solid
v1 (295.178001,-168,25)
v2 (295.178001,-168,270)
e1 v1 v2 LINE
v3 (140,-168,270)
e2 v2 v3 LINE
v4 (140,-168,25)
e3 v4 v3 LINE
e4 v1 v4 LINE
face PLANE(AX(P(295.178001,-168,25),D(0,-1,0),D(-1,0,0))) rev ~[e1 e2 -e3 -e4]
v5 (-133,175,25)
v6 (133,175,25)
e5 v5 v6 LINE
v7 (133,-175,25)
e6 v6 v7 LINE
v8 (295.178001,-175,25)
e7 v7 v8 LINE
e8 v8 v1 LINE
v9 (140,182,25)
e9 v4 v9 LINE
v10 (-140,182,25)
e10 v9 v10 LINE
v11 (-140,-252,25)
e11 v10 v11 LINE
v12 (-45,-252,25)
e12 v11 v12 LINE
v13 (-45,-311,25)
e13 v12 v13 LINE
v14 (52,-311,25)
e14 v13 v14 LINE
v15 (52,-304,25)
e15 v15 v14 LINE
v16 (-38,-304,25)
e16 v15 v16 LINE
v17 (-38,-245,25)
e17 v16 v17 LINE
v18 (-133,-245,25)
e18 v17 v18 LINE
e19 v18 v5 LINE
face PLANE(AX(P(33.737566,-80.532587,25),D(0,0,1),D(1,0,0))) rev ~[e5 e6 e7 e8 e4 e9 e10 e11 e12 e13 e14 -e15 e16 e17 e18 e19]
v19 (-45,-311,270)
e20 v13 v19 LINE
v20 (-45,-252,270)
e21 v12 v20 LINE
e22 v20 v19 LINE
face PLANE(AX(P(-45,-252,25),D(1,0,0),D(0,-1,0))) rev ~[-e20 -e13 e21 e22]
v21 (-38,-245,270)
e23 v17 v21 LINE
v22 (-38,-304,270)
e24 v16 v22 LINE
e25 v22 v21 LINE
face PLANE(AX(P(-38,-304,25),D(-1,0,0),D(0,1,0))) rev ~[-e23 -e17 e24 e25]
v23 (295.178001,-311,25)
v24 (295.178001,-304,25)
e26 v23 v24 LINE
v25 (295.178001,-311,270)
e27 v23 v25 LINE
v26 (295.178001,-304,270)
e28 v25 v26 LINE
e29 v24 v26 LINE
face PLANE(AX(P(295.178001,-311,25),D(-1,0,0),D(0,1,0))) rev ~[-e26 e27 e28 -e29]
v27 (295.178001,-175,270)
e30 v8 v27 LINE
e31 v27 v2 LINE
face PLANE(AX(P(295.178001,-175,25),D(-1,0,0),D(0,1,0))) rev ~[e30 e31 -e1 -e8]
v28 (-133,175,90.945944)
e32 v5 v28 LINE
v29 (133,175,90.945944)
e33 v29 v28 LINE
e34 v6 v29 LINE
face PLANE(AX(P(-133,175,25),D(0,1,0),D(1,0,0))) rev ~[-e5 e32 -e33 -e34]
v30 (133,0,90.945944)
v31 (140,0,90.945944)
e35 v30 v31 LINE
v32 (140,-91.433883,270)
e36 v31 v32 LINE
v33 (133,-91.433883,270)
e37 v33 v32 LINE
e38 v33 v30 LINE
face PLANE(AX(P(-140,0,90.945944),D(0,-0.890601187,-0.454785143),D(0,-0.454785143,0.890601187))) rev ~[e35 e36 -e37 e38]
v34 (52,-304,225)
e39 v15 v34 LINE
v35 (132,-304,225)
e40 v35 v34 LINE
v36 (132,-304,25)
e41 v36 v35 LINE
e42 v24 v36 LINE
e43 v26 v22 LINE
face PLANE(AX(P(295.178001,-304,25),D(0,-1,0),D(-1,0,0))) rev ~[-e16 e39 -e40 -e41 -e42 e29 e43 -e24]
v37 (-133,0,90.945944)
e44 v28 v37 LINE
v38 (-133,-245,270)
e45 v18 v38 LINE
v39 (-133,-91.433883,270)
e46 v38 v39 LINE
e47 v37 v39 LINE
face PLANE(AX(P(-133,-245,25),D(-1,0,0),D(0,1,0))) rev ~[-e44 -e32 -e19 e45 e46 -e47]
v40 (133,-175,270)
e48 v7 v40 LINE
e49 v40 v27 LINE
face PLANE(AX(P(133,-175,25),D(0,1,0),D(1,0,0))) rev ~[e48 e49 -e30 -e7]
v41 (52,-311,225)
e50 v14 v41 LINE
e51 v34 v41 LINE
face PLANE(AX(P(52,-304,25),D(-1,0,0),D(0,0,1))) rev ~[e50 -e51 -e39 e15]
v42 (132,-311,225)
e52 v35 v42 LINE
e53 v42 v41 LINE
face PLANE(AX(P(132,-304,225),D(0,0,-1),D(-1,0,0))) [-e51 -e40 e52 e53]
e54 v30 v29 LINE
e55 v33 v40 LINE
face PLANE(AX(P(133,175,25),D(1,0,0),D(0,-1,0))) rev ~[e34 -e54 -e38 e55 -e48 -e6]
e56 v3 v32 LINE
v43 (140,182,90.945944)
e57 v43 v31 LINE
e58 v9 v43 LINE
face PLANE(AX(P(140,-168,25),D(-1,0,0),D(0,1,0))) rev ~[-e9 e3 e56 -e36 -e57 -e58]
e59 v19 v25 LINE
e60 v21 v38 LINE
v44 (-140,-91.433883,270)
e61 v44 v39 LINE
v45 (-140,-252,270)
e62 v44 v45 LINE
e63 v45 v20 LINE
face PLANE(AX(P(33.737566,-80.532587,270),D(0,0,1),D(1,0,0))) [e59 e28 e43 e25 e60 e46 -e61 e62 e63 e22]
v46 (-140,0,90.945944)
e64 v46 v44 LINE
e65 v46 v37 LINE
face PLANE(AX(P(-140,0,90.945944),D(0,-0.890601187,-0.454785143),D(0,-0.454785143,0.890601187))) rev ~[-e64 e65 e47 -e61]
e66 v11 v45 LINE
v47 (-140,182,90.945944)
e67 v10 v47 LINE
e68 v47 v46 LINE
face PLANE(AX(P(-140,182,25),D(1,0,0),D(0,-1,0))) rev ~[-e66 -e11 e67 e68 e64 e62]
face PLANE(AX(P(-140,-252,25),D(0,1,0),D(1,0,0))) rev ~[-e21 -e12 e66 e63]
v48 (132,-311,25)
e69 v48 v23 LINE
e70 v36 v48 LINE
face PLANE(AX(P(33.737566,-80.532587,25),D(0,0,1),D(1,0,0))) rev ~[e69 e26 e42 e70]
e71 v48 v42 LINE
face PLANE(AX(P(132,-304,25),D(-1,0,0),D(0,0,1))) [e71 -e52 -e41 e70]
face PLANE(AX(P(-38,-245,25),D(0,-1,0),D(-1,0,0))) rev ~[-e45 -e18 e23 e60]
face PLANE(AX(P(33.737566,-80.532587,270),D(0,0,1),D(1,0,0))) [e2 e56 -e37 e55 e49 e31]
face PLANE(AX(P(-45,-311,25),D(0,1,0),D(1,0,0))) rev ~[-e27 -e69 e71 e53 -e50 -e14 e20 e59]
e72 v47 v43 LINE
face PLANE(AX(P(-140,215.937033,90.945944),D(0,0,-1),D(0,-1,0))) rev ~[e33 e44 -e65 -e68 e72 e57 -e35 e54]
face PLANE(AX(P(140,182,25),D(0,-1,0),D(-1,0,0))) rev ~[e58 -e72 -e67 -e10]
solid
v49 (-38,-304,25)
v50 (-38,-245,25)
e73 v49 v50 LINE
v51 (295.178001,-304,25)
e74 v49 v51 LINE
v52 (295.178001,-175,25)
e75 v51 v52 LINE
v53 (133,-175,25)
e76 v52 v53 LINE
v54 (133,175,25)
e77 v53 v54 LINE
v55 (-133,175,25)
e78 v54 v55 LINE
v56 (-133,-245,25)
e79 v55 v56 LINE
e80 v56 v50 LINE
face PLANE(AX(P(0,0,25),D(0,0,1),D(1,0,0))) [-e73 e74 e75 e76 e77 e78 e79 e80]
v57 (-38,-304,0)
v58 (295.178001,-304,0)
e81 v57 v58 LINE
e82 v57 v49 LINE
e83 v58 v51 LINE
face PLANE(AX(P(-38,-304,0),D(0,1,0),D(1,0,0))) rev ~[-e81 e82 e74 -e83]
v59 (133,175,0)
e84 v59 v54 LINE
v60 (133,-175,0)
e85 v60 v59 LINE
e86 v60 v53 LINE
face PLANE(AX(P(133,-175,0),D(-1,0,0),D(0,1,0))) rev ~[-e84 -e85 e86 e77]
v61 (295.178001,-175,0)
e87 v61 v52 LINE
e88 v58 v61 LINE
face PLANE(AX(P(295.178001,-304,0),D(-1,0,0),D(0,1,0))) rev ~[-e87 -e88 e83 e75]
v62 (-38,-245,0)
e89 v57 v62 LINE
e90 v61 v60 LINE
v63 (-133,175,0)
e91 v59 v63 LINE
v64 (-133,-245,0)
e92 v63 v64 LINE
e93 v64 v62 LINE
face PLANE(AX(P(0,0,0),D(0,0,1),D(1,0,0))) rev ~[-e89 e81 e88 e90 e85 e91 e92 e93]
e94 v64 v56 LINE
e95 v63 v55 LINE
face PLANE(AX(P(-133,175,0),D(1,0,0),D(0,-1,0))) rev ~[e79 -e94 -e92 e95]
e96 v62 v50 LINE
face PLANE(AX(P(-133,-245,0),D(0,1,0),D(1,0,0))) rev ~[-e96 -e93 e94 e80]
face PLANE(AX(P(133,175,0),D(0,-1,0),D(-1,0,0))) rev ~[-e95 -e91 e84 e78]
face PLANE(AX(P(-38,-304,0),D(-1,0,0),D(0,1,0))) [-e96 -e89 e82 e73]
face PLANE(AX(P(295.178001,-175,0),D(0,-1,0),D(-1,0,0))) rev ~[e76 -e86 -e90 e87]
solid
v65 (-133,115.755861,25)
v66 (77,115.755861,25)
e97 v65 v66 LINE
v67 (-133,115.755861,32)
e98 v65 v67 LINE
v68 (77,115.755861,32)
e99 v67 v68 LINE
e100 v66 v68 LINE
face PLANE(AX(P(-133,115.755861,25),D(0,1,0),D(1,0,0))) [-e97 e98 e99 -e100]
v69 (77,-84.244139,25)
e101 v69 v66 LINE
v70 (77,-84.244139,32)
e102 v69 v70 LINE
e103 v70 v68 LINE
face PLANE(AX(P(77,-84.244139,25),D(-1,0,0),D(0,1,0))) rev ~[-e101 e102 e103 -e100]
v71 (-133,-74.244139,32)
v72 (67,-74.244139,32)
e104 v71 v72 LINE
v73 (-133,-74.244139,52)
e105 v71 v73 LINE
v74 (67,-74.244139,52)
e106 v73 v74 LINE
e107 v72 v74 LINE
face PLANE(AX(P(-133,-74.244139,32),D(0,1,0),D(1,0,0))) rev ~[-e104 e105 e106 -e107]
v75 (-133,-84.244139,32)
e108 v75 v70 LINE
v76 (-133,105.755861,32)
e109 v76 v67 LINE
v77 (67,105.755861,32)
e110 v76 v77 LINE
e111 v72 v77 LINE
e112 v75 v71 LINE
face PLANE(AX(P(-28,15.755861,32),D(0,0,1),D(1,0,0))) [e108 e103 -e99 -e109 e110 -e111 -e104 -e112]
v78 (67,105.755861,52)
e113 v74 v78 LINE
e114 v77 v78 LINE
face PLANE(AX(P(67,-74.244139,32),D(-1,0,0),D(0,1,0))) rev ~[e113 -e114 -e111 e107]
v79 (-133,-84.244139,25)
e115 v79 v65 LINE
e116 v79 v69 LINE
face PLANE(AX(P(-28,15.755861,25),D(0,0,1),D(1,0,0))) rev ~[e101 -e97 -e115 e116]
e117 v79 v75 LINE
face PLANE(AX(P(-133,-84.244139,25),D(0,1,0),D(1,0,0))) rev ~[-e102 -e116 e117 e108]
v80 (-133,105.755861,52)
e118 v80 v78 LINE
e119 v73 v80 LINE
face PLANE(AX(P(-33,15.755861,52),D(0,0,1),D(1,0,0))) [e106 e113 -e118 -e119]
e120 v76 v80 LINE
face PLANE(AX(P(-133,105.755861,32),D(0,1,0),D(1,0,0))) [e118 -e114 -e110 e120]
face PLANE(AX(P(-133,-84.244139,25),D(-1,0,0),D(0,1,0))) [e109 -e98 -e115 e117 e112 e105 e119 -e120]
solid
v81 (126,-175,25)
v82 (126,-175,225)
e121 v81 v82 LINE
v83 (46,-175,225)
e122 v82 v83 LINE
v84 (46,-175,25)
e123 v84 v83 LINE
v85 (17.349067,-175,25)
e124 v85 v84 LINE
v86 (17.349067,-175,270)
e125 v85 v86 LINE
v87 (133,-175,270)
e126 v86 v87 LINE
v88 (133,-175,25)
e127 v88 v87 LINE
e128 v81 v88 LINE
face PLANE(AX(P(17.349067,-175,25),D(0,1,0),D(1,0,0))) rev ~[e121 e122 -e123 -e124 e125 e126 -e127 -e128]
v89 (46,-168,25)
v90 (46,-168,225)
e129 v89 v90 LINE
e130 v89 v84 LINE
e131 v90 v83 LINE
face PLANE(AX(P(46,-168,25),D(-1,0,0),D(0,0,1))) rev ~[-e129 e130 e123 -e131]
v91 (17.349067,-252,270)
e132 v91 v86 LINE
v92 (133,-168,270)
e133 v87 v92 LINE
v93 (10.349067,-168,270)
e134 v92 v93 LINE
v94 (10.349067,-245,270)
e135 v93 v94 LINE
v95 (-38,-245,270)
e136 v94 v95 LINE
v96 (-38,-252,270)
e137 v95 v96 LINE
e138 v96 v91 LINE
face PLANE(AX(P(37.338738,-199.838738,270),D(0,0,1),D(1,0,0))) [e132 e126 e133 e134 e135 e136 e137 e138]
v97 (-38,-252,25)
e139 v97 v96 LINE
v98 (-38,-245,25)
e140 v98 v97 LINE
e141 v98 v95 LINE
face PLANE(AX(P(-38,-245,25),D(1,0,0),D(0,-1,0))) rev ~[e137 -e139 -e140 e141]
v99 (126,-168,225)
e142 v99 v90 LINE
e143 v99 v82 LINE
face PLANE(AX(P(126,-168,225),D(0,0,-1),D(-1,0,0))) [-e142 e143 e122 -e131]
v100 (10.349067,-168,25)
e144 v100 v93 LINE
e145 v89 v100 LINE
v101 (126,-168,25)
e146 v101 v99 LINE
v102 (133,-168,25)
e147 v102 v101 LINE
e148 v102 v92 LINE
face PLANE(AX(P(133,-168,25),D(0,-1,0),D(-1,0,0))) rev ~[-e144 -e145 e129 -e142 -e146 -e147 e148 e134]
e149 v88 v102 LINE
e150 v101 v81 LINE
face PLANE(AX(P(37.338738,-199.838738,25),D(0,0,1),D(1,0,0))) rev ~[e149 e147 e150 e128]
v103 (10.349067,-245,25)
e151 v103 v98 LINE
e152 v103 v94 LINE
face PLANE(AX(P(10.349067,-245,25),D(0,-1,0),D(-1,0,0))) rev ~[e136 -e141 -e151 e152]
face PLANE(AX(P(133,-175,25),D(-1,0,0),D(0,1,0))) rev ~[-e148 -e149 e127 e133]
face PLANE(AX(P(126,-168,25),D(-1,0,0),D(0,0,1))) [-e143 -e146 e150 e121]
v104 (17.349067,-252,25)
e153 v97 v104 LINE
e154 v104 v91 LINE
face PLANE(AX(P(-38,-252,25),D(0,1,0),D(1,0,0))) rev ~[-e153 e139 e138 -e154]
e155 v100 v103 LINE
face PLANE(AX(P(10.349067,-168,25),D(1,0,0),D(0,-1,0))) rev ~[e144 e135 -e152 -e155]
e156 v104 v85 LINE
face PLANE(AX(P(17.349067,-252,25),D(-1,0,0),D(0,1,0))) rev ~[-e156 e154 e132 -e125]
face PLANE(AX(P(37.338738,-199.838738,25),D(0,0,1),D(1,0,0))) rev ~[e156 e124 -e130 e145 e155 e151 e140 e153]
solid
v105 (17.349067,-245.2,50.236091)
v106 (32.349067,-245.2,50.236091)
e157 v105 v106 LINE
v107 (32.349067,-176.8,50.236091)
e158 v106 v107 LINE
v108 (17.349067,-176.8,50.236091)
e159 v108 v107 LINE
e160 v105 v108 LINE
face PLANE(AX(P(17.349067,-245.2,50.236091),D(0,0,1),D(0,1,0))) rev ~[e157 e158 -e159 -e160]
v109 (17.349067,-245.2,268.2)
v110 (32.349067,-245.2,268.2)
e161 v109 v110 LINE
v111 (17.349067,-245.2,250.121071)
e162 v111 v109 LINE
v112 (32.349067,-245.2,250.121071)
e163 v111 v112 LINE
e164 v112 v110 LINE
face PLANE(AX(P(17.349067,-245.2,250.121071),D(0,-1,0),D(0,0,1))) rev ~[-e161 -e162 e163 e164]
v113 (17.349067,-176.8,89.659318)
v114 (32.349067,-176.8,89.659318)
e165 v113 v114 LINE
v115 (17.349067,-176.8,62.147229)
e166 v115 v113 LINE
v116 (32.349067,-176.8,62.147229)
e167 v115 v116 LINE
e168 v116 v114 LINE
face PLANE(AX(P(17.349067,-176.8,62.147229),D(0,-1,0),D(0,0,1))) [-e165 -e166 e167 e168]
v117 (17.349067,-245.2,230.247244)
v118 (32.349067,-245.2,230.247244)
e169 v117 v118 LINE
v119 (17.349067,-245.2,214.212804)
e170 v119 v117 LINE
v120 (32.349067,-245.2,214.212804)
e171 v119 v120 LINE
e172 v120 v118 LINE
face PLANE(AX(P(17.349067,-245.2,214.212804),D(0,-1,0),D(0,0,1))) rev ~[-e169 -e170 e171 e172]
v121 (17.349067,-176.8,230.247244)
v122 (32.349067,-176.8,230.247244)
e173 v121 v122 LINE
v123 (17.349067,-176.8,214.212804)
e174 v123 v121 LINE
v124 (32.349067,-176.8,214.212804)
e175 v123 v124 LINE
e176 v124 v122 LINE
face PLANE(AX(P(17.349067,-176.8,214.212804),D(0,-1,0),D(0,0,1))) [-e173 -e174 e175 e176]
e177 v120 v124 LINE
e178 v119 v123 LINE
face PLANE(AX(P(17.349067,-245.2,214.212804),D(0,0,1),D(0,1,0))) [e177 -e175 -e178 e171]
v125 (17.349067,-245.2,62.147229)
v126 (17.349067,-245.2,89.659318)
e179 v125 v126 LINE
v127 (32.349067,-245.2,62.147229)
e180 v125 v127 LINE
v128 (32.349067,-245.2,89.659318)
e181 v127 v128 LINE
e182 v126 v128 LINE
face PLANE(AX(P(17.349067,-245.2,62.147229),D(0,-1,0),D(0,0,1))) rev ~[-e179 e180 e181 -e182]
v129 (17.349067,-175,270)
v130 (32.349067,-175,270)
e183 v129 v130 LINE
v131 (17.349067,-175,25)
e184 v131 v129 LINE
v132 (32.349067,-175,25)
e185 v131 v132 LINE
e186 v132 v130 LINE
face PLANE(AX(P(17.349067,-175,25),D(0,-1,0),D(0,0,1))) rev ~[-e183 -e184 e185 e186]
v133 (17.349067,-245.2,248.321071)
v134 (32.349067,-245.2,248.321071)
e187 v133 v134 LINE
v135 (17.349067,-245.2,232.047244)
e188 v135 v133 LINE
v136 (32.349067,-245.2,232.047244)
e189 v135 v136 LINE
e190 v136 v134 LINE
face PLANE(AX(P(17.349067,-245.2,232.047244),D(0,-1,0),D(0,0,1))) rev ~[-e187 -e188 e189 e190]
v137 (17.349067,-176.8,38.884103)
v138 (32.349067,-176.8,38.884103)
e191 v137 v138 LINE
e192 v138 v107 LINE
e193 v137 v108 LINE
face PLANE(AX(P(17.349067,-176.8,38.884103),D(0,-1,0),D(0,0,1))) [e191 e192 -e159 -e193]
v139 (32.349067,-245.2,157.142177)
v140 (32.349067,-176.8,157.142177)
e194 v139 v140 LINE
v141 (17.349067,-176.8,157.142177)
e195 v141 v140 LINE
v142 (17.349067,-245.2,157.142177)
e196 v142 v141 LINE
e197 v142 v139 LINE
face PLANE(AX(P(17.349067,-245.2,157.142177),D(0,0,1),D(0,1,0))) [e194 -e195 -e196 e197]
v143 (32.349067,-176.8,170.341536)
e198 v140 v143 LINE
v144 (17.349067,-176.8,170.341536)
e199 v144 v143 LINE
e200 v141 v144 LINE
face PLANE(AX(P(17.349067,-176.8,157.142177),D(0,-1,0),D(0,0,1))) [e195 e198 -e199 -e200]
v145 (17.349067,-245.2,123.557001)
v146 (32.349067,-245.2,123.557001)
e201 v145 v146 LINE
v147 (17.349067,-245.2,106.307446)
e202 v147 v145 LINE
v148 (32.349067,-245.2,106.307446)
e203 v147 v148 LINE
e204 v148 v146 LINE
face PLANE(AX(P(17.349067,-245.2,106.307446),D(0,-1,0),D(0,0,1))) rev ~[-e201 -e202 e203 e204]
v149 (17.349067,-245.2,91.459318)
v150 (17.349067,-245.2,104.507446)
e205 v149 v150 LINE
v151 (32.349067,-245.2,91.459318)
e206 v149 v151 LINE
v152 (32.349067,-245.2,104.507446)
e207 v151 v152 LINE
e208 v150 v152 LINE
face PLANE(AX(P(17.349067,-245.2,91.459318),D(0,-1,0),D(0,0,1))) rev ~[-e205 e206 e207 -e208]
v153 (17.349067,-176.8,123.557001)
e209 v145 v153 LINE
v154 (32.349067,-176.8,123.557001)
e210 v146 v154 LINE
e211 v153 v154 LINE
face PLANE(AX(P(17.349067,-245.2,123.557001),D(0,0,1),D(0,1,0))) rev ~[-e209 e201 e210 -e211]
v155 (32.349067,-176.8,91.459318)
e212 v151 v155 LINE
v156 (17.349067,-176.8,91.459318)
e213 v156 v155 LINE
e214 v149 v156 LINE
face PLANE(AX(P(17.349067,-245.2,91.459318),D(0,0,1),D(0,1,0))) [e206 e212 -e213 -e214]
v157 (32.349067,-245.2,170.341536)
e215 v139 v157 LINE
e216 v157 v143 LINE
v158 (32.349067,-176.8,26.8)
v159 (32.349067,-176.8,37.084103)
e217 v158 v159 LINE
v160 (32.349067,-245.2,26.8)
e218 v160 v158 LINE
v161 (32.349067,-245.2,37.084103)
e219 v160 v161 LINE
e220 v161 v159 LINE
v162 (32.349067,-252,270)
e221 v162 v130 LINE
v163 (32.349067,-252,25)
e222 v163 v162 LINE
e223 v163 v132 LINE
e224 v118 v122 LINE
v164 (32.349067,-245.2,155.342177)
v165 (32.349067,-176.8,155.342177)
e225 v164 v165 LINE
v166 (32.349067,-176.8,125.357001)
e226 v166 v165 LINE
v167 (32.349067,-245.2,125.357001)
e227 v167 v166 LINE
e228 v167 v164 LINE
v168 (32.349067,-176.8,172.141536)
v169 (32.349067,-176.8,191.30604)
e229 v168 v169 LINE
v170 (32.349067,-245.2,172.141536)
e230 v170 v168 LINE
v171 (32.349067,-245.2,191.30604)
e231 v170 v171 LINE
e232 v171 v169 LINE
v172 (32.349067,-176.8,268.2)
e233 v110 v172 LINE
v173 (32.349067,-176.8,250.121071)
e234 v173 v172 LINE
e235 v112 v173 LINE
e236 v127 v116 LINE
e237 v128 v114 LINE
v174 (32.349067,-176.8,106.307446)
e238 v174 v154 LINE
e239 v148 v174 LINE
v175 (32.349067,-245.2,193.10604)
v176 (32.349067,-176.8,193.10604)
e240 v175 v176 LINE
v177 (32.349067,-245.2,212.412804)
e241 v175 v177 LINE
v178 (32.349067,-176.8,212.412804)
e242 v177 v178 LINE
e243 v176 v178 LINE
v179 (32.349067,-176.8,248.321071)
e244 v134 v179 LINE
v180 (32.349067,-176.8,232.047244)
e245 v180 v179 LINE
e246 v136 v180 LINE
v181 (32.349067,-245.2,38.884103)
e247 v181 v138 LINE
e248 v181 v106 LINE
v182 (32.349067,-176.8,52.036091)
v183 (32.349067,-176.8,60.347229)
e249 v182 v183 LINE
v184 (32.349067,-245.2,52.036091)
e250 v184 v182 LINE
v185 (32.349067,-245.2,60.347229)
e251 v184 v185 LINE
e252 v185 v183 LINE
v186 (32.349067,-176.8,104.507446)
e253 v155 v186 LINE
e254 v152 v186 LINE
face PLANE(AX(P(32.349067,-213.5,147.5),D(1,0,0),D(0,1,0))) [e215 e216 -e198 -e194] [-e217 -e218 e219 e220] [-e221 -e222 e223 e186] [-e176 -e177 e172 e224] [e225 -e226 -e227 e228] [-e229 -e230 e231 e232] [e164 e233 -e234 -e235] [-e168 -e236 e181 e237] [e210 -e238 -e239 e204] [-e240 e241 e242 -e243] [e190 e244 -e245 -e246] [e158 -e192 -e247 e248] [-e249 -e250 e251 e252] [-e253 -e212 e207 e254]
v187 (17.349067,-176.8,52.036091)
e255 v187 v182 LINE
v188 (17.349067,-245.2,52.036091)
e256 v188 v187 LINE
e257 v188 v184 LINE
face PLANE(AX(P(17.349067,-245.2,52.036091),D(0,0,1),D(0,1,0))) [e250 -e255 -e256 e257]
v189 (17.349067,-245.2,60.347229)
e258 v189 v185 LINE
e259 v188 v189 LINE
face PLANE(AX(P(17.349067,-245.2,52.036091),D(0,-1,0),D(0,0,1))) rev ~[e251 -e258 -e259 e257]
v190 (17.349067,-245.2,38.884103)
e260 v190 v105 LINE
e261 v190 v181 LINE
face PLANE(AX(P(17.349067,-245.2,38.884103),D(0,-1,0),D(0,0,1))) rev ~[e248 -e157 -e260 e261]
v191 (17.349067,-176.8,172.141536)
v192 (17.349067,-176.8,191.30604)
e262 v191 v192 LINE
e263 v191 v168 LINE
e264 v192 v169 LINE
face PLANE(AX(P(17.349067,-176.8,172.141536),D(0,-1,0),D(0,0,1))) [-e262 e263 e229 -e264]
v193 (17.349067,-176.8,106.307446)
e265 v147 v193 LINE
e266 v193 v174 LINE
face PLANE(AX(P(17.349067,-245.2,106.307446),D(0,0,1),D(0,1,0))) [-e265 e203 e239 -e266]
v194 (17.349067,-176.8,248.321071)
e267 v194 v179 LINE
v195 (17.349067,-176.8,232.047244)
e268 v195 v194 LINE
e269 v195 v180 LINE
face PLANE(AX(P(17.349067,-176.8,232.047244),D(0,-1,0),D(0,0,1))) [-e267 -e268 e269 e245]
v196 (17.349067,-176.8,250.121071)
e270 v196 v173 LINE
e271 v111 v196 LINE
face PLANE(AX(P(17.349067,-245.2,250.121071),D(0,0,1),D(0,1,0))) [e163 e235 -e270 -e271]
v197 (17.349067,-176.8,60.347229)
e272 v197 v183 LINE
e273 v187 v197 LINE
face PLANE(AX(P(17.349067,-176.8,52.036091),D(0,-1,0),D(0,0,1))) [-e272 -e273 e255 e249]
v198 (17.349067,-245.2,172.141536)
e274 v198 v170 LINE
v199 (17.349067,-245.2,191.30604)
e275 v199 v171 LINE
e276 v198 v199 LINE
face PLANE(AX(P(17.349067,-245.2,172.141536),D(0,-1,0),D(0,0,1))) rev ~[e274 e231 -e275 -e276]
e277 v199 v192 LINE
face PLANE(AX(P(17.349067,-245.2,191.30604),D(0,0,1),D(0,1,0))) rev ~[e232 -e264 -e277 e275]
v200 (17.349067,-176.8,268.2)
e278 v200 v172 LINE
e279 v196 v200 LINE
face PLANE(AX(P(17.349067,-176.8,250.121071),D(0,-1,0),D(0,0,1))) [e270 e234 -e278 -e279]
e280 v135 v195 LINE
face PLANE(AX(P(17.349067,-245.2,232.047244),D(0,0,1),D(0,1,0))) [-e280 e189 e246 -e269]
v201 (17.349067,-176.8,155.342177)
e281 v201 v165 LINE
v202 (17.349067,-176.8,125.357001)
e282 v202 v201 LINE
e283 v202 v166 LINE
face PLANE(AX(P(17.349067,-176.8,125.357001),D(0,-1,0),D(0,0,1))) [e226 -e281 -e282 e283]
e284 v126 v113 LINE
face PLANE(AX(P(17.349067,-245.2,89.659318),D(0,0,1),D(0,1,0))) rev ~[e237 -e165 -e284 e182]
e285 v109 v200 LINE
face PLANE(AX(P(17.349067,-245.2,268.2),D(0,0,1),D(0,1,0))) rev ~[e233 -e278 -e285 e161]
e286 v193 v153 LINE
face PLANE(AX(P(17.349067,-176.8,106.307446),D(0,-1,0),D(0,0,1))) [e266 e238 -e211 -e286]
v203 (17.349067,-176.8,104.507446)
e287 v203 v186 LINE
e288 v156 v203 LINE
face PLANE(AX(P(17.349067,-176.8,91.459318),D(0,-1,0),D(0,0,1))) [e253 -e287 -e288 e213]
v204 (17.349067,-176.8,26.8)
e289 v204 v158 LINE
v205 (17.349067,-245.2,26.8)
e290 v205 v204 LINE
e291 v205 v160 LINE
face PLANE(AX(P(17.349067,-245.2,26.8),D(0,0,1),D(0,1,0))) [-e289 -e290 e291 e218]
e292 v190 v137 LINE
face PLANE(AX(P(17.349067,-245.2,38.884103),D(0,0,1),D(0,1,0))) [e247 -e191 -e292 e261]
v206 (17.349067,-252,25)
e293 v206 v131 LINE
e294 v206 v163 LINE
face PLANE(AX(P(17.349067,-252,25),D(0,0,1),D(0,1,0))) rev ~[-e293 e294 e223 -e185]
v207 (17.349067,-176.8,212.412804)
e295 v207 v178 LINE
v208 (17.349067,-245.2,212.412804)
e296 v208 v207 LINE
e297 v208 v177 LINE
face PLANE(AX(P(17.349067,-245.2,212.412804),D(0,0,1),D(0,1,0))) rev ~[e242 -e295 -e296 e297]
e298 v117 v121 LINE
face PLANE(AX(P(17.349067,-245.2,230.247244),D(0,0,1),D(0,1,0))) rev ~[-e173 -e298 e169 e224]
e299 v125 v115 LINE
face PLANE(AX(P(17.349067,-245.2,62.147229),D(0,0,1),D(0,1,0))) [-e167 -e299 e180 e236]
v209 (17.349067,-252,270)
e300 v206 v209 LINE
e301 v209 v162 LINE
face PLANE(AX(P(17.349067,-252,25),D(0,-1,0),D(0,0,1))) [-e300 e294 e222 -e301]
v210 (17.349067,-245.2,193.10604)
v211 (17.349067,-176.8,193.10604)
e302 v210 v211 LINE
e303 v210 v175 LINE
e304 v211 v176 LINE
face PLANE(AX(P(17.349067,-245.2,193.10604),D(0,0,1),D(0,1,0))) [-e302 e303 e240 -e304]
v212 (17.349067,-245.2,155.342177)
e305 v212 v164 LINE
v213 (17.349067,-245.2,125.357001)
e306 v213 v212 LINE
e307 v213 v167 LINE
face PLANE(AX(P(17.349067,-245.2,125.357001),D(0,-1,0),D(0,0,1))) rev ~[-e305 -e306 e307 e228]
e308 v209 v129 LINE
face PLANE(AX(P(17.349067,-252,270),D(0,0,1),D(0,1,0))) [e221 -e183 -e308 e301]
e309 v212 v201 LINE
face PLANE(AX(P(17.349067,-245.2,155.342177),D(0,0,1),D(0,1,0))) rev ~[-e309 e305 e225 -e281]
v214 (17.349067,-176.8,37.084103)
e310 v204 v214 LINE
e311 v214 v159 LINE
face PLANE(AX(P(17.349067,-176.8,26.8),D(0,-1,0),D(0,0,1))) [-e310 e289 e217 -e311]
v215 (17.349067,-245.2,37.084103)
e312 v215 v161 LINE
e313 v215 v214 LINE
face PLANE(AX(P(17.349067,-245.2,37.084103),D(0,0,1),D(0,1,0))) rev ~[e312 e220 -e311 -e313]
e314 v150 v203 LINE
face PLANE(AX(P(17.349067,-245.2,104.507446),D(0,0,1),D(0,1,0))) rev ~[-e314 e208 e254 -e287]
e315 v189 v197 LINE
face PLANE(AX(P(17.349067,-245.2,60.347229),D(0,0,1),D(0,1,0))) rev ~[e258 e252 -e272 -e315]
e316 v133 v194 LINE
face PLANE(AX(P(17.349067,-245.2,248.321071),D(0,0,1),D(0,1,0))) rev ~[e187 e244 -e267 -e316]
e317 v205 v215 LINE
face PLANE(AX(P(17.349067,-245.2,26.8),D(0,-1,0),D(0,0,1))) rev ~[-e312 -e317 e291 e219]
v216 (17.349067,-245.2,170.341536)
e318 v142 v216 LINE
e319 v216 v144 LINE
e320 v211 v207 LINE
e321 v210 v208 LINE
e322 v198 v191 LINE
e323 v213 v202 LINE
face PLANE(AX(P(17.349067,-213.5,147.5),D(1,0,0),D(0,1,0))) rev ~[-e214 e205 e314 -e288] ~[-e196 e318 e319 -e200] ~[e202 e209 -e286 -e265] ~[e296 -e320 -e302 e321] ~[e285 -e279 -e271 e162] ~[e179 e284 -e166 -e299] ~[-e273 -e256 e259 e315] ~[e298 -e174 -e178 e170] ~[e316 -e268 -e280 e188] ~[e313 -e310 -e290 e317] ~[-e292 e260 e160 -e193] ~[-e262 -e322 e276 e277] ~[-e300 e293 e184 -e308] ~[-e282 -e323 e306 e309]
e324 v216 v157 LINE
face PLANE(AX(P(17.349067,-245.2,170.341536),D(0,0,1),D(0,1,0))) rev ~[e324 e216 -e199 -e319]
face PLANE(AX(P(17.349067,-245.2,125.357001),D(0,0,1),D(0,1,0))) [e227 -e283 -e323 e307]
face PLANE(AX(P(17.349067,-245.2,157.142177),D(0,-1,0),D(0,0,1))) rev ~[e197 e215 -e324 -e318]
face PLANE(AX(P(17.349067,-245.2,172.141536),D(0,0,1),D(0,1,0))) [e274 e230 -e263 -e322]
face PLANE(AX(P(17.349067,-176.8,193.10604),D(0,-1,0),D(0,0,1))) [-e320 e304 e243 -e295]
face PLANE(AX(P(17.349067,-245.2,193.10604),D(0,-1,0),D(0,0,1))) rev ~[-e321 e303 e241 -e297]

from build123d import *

# Parameters (mm, degrees)
F0_W      = 95
F0_H      = 70
F0_W_2    = 51
F0_H_2    = 59
F1_DEPTH  = 25
F3_DEPTH  = 245
F5_DEPTH  = 245
F6_W      = 80
F6_H      = 200
F7_DEPTH  = 25
F8_W      = 210
F8_H      = 200
F9_DEPTH  = 7
F10_W     = 200
F10_H     = 180
F11_DEPTH = 20
F13_DEPTH = 435.1790014882
F14_W     = 80
F14_H     = 200
F15_DEPTH = 25
F16_W     = 77
F16_H     = 245
F16_W_2   = 68.4
F16_H_2   = 10.2841026306
F16_H_3   = 11.3519883871
F16_H_4   = 8.3111382246
F16_H_5   = 27.5120890856
F16_H_6   = 13.0481279612
F16_H_7   = 17.2495550632
F16_H_8   = 29.9851752043
F16_H_9   = 13.1993598461
F16_H_10  = 19.1645032883
F16_H_11  = 19.3067646742
F16_H_12  = 16.0344398737
F16_H_13  = 16.2738270283
F16_H_14  = 18.0789287329
F17_DEPTH = 15


with BuildPart() as f1:
    # F0 (on Top) → F1 (new body)
    with BuildSketch(Plane.XY):
        Polygon((133, -175), (133, 175), (-133, 175), (-133, -175), (-38, -175), (13, -175), (45, -175), align=None)
        Polygon((295.1780014882, -175), (133, -175), (45, -175), (13, -175), (13, -245), (13, -304), (295.1780014882, -304), align=None)
        with Locations((-85.5, -210)):
            Rectangle(F0_W, F0_H)
        with Locations((-12.5, -210)):
            Rectangle(F0_W_2, F0_H)
        with Locations((-12.5, -274.5)):
            Rectangle(F0_W_2, F0_H_2)
    extrude(amount=F1_DEPTH)


with BuildPart() as f3:
    # F2 (on face) → F3 (new body)
    with BuildSketch(Plane.XY.offset(25)):
        Polygon((-45, -311), (295.1780014882, -311), (295.1780014882, -304), (-38, -304), (-38, -245), (-133, -245), (-133, 175), (133, 175), (133, -175), (295.1780014882, -175), (295.1780014882, -168), (140, -168), (140, 182), (-140, 182), (-140, -252), (-45, -252), align=None)
    extrude(amount=F3_DEPTH)

    # F12 (on face) → F13 (cut, through all)
    with BuildSketch(Plane(origin=(-140, 0, 0), x_dir=(0, -1, 0), z_dir=(-1, 0, 0))):
        Polygon((-215.9370332956, 327.1400332451), (-215.9370332956, 90.94594419), (0, 90.94594419), (91.4338827133, 270), (91.4338827133, 327.1400332451), align=None)
    extrude(amount=-F13_DEPTH, mode=Mode.SUBTRACT)

    # F14 (on face) → F15 (cut)
    with BuildSketch(Plane(origin=(0, -304, 0), x_dir=(-1, 0, 0), z_dir=(0, 1, 0))):
        with Locations((-92, 125)):
            Rectangle(F14_W, F14_H)
    extrude(amount=-F15_DEPTH, mode=Mode.SUBTRACT)


with BuildPart() as f5:
    # F4 (on face) → F5 (new body, through all)
    with BuildSketch(Plane.XY.offset(25)):
        Polygon((17.349066928, -175), (133, -175), (133, -168), (10.349066928, -168), (10.349066928, -245), (-38, -245), (-38, -252), (17.349066928, -252), align=None)
    extrude(amount=F5_DEPTH)

    # F6 (on face) → F7 (cut)
    with BuildSketch(Plane(origin=(0, -168, 0), x_dir=(-1, 0, 0), z_dir=(0, 1, 0))):
        with Locations((-86, 125)):
            Rectangle(F6_W, F6_H)
    extrude(amount=-F7_DEPTH, mode=Mode.SUBTRACT)


with BuildPart() as f9:
    # F8 (on face) → F9 (new body)
    with BuildSketch(Plane.XY.offset(25)):
        with Locations((-28, 15.7558605075)):
            Rectangle(F8_W, F8_H)
    extrude(amount=F9_DEPTH)

    # F10 (on face) → F11 (join)
    with BuildSketch(Plane.XY.offset(32)):
        with Locations((-33, 15.7558605075)):
            Rectangle(F10_W, F10_H)
    extrude(amount=F11_DEPTH)


with BuildPart() as f17:
    # F16 (on face) → F17 (new body)
    with BuildSketch(Plane.YZ.offset(17.349066928)):
        with Locations((-213.5, 147.5)):
            Rectangle(F16_W, F16_H)
        with Locations((-211, 31.9420513153)):
            Rectangle(F16_W_2, F16_H_2, mode=Mode.SUBTRACT)
        with Locations((-211, 44.5600968242)):
            Rectangle(F16_W_2, F16_H_3, mode=Mode.SUBTRACT)
        with Locations((-211, 56.19166013)):
            Rectangle(F16_W_2, F16_H_4, mode=Mode.SUBTRACT)
        with Locations((-211, 75.9032737851)):
            Rectangle(F16_W_2, F16_H_5, mode=Mode.SUBTRACT)
        with Locations((-211, 97.9833823085)):
            Rectangle(F16_W_2, F16_H_6, mode=Mode.SUBTRACT)
        with Locations((-211, 114.9322238207)):
            Rectangle(F16_W_2, F16_H_7, mode=Mode.SUBTRACT)
        with Locations((-211, 140.3495889544)):
            Rectangle(F16_W_2, F16_H_8, mode=Mode.SUBTRACT)
        with Locations((-211, 163.7418564796)):
            Rectangle(F16_W_2, F16_H_9, mode=Mode.SUBTRACT)
        with Locations((-211, 181.7237880468)):
            Rectangle(F16_W_2, F16_H_10, mode=Mode.SUBTRACT)
        with Locations((-211, 202.7594220281)):
            Rectangle(F16_W_2, F16_H_11, mode=Mode.SUBTRACT)
        with Locations((-211, 222.230024302)):
            Rectangle(F16_W_2, F16_H_12, mode=Mode.SUBTRACT)
        with Locations((-211, 240.184157753)):
            Rectangle(F16_W_2, F16_H_13, mode=Mode.SUBTRACT)
        with Locations((-211, 259.1605356336)):
            Rectangle(F16_W_2, F16_H_14, mode=Mode.SUBTRACT)
    extrude(amount=F17_DEPTH)


solid = Compound([f1.part, f3.part, f5.part, f9.part, f17.part])
